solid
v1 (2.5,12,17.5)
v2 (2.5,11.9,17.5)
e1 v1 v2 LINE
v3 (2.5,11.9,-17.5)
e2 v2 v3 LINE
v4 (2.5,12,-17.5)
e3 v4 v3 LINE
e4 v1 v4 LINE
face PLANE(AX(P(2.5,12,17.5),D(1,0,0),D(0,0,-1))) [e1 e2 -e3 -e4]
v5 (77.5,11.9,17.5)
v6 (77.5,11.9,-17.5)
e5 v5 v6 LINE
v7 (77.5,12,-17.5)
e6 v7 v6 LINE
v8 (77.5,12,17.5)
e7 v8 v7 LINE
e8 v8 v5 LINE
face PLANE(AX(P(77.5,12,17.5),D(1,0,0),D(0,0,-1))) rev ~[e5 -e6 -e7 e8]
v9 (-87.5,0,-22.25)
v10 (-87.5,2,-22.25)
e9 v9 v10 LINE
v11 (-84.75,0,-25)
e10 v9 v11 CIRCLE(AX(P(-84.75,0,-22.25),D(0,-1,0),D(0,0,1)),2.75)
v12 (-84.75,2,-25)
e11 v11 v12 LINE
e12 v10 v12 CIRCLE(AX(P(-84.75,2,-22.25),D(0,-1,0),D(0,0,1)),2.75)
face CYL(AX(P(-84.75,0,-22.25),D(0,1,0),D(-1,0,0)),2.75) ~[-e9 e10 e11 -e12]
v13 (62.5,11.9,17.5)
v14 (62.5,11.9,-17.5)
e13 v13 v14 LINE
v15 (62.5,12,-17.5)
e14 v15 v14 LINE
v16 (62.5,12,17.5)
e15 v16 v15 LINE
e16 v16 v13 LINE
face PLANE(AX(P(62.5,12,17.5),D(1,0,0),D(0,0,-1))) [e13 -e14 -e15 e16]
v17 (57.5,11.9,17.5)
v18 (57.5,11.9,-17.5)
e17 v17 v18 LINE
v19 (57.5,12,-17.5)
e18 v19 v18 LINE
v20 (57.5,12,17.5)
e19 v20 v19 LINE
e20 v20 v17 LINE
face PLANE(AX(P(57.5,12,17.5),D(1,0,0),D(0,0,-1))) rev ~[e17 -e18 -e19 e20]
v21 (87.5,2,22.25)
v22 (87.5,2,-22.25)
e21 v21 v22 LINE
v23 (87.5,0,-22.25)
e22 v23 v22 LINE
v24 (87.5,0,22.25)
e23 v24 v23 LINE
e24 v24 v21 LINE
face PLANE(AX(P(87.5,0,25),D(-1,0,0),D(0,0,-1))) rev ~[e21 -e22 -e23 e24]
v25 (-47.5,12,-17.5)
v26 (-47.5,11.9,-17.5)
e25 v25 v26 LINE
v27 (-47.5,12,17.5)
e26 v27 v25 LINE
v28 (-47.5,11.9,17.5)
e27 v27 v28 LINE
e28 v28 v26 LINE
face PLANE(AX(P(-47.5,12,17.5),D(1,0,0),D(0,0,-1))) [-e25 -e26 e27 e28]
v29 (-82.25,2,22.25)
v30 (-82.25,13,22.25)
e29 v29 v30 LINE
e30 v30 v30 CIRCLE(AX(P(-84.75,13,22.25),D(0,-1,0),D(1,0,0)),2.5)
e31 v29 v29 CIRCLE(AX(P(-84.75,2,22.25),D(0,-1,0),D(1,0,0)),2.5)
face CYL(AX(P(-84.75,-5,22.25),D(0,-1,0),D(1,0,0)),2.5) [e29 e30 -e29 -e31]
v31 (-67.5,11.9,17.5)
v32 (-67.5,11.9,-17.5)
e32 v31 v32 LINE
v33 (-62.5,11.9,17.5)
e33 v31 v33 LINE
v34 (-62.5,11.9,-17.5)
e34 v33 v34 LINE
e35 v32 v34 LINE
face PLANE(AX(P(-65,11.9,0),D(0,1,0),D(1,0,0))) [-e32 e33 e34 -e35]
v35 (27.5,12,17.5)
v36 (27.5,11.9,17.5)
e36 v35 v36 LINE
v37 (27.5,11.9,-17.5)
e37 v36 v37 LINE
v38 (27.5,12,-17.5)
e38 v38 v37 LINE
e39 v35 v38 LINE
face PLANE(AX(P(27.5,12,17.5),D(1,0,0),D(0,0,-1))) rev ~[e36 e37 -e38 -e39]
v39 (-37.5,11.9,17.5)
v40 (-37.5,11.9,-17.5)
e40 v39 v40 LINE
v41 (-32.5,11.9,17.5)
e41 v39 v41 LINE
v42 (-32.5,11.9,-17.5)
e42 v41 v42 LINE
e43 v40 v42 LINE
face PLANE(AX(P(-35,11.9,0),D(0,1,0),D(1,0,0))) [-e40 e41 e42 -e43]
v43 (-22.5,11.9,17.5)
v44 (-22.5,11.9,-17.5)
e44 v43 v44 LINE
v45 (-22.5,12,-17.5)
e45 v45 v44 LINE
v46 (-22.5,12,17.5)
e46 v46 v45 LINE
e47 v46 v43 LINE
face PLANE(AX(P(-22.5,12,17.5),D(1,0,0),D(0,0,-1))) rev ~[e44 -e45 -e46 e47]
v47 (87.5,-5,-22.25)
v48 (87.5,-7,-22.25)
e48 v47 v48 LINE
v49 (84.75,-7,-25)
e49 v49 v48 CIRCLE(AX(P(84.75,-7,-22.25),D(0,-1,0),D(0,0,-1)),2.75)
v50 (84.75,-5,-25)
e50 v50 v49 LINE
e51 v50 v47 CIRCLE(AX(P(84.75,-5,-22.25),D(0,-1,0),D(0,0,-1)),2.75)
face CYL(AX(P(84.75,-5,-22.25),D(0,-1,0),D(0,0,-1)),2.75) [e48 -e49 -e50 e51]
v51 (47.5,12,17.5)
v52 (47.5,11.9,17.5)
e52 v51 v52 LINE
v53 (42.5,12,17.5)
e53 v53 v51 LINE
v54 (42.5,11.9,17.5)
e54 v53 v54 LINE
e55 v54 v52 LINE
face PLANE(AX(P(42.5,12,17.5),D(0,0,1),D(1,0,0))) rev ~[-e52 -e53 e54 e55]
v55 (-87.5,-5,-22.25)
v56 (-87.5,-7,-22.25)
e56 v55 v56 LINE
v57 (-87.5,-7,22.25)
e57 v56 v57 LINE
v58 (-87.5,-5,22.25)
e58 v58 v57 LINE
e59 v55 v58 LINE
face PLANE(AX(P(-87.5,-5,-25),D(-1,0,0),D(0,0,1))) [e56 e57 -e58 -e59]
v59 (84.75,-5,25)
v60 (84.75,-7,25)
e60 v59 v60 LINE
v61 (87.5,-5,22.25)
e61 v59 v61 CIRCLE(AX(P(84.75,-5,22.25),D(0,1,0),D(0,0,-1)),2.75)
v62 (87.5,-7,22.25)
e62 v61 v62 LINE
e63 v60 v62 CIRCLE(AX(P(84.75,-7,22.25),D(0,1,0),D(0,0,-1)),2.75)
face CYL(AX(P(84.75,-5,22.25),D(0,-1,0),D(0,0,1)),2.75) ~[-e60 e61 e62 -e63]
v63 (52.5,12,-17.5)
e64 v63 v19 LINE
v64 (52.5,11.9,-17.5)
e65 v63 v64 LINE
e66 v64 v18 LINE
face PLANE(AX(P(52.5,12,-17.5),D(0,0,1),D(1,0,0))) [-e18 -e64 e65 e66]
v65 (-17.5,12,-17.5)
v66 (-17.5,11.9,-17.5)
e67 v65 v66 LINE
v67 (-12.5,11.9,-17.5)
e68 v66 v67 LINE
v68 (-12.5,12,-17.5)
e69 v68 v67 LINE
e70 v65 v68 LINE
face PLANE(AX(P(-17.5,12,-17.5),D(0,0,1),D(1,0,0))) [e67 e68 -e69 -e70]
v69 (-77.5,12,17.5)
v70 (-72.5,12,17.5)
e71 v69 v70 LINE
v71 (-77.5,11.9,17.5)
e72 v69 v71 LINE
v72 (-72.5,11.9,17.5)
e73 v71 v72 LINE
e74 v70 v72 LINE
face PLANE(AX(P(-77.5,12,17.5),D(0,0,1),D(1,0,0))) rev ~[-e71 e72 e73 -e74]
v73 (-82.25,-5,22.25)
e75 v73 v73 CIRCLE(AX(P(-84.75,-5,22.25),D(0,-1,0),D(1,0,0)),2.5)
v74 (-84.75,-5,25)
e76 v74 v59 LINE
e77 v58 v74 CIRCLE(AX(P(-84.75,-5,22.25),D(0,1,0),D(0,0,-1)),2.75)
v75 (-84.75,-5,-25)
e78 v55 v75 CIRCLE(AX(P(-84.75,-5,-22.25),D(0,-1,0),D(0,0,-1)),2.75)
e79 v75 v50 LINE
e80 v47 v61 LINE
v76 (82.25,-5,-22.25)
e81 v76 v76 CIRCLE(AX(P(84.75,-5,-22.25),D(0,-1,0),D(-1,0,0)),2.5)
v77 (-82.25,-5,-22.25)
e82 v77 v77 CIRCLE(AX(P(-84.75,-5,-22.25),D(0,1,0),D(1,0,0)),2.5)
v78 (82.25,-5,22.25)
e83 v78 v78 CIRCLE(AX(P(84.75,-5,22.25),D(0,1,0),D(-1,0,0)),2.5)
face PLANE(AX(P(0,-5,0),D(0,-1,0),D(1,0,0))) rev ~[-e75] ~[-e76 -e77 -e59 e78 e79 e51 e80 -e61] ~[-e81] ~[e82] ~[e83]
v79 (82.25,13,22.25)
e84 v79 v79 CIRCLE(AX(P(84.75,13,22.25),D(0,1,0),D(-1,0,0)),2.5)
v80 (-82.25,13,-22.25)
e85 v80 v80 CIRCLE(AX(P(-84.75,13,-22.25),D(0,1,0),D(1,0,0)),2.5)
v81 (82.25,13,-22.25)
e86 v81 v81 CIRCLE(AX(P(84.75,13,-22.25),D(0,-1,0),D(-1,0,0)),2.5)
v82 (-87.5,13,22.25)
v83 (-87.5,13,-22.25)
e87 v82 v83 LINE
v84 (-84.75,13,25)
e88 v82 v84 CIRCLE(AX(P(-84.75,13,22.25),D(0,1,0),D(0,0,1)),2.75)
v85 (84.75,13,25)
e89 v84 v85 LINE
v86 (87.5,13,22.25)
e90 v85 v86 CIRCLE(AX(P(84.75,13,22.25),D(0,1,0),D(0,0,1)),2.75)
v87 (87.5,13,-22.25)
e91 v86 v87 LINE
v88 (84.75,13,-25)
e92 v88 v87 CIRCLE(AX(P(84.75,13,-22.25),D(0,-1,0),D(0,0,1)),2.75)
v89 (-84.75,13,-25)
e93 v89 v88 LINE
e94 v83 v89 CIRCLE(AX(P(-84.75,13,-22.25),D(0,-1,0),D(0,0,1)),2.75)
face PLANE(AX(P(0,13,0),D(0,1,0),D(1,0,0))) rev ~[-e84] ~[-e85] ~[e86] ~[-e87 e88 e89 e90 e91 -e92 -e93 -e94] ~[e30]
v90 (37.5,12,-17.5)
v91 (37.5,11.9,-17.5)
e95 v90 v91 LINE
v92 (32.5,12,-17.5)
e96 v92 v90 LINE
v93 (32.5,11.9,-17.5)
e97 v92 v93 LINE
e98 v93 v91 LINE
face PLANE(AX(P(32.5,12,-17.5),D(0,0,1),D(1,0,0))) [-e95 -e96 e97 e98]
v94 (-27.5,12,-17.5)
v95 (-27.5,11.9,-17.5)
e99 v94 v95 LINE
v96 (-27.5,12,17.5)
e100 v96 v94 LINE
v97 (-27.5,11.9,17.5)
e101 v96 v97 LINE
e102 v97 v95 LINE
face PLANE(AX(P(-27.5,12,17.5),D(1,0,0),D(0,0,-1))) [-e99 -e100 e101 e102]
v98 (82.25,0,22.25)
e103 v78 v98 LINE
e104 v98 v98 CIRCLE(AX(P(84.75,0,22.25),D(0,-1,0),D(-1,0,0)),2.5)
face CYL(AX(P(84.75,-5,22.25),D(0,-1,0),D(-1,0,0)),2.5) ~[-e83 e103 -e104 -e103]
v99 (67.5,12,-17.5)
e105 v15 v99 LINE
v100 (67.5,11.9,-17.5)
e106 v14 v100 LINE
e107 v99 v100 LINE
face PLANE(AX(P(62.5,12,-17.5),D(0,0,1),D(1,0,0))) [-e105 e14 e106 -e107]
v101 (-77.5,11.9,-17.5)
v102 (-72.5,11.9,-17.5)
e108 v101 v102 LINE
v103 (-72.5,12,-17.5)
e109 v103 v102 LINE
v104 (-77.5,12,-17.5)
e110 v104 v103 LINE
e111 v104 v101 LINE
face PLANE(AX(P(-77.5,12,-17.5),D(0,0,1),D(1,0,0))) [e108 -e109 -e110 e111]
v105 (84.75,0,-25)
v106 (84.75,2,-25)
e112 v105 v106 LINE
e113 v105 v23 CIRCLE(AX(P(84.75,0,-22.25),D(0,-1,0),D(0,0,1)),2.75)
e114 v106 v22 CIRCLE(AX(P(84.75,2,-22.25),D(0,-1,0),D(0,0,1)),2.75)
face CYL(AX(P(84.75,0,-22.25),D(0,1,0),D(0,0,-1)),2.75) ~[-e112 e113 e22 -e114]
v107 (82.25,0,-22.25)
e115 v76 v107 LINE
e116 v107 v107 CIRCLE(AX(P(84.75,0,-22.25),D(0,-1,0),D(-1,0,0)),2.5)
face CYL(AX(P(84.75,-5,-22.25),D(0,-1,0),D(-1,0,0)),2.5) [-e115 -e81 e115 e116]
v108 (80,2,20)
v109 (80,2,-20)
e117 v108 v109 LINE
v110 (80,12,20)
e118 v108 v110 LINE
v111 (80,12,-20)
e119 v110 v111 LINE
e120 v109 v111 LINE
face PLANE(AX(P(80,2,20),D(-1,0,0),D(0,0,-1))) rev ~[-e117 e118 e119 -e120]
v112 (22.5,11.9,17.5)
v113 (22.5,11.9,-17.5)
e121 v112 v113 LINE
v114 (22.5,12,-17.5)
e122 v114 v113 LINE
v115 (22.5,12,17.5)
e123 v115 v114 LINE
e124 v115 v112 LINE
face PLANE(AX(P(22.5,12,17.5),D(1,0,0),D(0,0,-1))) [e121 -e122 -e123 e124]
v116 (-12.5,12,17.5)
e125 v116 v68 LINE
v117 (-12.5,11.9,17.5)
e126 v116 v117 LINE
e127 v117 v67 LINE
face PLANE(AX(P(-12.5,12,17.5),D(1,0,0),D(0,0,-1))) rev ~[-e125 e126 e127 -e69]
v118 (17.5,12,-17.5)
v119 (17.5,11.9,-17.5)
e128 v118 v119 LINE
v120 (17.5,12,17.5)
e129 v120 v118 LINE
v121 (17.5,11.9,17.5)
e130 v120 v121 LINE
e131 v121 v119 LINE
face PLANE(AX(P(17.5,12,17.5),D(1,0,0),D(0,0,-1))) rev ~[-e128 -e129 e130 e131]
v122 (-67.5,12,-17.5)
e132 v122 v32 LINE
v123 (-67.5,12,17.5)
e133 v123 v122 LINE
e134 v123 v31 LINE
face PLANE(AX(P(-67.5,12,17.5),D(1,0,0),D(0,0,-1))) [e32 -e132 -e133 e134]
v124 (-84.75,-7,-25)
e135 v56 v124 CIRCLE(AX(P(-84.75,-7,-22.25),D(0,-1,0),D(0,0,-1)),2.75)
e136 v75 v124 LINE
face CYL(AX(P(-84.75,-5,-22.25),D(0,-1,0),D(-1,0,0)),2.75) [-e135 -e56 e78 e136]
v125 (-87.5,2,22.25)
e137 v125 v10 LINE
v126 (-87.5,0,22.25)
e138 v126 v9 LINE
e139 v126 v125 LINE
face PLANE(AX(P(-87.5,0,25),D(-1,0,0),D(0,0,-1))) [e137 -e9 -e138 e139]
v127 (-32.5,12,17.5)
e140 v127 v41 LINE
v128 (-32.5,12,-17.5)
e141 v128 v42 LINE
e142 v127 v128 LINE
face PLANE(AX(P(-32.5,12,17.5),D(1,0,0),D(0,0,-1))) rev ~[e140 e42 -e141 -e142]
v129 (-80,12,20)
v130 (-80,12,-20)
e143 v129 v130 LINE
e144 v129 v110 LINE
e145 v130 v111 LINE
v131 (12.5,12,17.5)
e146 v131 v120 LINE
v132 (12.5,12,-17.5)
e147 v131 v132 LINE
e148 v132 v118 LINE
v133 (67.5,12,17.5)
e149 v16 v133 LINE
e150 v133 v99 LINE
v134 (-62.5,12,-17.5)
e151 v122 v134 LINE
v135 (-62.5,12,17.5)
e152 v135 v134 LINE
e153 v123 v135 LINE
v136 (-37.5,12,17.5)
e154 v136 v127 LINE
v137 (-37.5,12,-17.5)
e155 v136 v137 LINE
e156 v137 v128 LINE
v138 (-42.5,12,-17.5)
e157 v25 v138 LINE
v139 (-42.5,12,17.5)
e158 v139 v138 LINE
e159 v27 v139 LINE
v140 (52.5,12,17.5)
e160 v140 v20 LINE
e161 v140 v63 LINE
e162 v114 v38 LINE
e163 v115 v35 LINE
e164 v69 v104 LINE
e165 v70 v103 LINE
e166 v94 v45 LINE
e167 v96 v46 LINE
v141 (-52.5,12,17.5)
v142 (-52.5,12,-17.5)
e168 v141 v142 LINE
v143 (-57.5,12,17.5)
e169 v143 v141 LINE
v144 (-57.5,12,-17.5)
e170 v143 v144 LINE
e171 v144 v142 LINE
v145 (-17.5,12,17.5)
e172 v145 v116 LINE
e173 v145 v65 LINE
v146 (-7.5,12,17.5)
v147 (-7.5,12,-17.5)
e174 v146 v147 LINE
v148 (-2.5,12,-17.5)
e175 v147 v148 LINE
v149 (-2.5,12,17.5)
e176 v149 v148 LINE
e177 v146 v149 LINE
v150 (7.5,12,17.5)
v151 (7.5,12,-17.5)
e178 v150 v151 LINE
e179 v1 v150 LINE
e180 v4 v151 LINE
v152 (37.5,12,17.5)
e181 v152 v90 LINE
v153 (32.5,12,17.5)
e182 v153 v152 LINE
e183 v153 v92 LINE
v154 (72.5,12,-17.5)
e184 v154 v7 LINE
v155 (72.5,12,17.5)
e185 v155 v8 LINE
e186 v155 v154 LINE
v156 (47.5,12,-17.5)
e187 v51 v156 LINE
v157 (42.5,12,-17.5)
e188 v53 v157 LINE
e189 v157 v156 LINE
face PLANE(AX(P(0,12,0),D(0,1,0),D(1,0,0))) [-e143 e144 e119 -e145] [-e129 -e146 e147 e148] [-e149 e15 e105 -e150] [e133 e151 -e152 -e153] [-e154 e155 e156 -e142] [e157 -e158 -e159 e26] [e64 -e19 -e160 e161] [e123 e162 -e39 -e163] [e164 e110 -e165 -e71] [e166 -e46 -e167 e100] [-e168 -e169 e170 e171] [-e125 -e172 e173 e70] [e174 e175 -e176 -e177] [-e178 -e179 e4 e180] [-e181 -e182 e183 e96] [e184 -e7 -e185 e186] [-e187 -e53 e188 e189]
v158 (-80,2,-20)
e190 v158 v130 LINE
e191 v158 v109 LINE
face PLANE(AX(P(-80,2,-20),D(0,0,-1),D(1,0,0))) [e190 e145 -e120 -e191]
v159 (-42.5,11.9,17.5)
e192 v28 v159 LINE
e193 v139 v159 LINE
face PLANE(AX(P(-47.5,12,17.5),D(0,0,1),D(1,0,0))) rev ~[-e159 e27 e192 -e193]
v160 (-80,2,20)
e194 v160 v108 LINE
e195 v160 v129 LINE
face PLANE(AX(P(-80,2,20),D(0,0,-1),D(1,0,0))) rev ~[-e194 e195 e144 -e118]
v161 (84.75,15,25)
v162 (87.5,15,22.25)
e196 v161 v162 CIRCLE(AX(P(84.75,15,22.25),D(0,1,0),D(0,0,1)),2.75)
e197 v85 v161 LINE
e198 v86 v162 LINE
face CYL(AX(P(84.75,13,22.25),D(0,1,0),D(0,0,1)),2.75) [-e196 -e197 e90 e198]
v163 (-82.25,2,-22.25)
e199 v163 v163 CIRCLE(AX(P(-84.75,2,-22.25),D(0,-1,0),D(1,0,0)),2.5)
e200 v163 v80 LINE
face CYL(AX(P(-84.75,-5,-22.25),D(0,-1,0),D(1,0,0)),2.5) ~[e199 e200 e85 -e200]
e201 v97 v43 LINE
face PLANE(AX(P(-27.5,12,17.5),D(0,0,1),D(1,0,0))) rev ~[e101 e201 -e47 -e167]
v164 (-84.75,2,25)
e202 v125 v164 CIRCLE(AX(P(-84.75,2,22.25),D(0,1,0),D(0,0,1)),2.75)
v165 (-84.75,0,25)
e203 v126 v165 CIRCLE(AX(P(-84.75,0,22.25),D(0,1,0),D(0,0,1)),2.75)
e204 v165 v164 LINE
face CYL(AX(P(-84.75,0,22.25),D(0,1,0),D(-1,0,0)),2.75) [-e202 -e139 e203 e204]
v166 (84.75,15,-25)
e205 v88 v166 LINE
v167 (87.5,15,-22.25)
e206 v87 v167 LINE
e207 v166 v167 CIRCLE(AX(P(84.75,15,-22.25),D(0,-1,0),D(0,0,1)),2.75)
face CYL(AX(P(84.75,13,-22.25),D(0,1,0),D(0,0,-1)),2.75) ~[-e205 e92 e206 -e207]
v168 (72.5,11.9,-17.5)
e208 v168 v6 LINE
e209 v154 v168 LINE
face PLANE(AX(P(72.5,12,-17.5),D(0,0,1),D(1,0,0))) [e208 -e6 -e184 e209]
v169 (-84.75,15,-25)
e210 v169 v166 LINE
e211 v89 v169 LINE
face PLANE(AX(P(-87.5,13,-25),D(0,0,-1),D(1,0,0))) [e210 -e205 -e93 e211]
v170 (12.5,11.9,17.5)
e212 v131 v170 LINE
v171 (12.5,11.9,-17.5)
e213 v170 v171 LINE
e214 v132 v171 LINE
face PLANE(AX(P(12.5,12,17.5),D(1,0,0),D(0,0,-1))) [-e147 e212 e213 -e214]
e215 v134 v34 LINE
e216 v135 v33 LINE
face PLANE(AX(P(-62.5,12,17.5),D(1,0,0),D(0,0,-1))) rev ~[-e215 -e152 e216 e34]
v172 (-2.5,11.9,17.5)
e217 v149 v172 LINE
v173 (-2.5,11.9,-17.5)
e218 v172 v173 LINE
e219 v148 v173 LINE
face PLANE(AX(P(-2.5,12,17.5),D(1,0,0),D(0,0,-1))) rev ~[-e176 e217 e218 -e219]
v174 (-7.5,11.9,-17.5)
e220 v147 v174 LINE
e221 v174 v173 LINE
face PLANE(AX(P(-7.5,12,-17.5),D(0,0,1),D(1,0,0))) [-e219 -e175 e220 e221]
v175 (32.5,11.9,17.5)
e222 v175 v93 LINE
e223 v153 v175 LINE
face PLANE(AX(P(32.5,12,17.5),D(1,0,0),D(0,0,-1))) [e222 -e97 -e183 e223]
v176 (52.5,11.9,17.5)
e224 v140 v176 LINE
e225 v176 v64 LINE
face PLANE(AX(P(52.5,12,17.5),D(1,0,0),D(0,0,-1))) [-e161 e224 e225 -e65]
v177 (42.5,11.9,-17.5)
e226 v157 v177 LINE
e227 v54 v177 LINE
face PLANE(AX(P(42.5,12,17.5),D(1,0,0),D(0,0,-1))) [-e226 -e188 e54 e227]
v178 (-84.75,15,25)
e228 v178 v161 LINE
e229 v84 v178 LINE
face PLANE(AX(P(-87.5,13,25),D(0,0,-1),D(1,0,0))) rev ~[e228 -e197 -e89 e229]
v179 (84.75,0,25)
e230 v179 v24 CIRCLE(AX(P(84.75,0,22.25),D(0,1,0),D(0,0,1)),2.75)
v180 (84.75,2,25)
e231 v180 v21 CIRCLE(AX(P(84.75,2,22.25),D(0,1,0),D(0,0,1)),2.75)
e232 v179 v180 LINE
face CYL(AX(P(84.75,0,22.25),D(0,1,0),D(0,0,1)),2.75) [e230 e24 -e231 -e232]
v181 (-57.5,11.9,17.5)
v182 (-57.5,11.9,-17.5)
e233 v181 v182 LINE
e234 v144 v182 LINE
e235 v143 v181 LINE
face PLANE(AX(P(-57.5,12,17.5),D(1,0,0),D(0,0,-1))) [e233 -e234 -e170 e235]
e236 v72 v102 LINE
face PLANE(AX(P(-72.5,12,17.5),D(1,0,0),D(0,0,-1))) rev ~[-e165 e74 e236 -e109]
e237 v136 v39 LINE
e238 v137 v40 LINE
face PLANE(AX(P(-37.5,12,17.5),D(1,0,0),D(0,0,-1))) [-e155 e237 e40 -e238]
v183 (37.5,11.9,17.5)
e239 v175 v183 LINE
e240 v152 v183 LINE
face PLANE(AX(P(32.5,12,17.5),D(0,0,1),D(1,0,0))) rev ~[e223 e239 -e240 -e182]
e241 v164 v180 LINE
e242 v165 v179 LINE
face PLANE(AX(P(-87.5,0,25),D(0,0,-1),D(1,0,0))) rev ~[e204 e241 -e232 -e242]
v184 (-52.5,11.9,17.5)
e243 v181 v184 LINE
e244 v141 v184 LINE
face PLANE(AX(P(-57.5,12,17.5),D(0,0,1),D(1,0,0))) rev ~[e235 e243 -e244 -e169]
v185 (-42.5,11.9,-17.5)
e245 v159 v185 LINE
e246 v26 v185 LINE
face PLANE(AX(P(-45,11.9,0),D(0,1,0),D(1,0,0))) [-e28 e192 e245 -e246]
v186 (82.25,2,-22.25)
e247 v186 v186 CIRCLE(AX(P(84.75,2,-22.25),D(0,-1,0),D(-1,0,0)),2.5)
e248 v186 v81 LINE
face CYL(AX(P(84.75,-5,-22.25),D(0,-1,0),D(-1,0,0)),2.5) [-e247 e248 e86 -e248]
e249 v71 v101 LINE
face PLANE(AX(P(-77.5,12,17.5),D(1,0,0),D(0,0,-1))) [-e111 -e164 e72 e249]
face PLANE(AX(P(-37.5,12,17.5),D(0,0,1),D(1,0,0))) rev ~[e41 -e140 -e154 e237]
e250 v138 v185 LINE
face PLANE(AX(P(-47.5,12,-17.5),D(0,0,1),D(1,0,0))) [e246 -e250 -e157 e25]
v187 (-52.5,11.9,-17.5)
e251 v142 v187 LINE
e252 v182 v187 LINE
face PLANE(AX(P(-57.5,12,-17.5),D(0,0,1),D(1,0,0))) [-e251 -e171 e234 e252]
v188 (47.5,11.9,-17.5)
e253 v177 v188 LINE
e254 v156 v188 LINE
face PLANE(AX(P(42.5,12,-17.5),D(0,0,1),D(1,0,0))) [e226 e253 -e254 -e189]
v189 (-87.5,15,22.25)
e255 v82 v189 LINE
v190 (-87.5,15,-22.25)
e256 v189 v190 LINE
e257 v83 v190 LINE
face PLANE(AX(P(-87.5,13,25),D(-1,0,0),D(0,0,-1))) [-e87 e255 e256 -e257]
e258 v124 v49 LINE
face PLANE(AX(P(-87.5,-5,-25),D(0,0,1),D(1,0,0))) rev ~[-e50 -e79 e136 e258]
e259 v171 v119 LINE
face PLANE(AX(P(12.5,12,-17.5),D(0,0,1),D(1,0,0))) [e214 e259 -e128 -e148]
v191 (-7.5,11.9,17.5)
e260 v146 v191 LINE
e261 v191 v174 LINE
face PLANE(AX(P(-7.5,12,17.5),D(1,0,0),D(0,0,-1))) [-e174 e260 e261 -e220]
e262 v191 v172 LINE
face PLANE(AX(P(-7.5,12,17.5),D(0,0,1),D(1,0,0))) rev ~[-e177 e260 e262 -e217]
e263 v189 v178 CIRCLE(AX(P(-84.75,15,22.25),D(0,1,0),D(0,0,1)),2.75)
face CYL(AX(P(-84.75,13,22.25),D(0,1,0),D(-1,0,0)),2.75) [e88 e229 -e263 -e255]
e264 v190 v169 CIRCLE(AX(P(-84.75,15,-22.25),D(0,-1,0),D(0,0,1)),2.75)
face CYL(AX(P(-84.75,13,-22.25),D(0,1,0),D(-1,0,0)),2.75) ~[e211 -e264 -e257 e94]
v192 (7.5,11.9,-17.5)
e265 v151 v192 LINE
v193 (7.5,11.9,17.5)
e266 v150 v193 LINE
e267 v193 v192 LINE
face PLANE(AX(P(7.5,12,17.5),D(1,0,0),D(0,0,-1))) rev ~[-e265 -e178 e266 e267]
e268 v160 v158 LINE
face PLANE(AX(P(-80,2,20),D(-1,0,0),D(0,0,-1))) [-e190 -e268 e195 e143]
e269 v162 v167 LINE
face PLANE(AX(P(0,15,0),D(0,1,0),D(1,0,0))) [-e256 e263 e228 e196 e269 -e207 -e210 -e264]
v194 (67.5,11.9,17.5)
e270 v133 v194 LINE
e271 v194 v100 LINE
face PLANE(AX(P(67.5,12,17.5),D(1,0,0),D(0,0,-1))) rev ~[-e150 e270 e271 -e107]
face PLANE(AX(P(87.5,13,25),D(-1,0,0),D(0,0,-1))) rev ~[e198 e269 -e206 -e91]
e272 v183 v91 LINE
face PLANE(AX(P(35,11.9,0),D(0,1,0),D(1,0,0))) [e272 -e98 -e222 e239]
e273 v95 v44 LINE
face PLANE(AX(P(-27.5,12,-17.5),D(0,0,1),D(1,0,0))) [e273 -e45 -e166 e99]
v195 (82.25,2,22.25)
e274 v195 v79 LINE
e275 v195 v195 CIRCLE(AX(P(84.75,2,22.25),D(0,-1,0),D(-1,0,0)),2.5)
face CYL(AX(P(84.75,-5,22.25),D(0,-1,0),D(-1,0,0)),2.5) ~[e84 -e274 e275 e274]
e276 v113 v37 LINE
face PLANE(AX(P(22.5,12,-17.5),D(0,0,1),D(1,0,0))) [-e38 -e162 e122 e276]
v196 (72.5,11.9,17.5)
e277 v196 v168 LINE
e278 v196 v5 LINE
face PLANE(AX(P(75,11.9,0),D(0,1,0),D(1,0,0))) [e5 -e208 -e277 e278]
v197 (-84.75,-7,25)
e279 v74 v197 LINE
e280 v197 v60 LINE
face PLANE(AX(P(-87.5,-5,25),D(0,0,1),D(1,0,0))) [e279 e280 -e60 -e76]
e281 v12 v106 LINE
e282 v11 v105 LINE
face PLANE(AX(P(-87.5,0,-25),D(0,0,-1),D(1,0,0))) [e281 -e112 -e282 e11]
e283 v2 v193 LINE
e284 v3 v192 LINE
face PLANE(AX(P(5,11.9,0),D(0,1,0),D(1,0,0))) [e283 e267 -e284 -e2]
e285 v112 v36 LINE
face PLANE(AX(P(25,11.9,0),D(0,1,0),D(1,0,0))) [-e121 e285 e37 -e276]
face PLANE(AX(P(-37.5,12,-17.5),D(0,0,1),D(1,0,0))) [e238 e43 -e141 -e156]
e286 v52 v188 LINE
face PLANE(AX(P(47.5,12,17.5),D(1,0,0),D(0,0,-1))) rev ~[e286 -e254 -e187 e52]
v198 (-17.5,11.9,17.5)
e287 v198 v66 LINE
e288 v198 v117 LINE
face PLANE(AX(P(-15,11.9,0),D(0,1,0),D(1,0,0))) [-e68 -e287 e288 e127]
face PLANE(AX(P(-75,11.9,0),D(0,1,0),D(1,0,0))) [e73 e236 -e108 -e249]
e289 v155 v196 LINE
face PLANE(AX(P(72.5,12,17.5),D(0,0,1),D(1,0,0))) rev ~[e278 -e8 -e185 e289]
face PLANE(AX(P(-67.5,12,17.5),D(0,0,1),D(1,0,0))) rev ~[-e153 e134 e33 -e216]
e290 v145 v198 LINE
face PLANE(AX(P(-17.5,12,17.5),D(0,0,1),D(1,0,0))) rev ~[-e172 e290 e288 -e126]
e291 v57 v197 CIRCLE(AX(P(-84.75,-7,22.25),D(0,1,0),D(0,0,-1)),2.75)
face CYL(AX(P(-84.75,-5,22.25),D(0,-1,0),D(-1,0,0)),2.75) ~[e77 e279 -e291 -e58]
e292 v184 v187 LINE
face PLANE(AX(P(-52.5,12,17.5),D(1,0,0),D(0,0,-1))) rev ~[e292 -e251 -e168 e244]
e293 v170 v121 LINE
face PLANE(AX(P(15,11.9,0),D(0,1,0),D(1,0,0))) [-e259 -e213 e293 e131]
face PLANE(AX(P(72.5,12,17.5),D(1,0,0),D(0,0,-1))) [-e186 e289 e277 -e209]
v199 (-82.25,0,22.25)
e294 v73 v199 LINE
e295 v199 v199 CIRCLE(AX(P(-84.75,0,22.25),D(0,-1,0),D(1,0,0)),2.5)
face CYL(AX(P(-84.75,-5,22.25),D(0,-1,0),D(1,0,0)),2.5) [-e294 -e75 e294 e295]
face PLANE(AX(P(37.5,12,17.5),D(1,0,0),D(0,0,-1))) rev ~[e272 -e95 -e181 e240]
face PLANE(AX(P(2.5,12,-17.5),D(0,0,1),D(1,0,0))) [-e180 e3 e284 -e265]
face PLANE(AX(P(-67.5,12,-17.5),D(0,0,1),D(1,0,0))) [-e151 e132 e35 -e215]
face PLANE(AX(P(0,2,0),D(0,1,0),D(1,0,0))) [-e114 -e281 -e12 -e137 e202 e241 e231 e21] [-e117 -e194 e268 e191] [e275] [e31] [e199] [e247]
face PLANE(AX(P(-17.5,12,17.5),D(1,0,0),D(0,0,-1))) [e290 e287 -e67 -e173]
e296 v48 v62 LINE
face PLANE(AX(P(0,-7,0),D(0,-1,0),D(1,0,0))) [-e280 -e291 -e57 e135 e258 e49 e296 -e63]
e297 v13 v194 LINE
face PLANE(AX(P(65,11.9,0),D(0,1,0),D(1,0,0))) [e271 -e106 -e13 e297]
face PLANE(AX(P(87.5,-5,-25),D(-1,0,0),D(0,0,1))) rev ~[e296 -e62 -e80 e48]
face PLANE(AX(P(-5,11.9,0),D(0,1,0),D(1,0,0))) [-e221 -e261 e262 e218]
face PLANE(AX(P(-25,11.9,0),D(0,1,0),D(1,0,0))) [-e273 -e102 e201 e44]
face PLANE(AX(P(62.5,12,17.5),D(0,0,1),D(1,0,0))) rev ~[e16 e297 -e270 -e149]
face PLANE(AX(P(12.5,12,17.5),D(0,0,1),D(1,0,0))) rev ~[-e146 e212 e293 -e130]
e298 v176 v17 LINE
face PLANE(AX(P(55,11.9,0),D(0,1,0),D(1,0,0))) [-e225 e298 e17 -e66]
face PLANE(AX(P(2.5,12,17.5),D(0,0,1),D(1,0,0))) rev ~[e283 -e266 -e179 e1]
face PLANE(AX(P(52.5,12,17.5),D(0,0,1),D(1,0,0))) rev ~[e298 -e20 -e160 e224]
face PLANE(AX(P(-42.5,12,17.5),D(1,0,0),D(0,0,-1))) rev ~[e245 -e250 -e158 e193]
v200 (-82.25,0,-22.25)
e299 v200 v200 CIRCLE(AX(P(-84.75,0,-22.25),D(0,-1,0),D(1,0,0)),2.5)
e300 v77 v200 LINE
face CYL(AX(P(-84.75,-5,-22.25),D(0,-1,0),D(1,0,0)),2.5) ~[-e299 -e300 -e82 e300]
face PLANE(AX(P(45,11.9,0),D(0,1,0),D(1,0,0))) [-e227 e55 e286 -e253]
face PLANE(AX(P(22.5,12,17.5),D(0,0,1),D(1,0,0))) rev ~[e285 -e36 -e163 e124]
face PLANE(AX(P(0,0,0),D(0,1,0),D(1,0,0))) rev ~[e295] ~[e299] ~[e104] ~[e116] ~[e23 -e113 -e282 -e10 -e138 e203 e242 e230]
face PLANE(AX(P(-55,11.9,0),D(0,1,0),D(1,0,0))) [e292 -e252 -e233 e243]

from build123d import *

# Parameters (mm, degrees)
SKETCH1_W                                  = 175
SKETCH1_H                                  = 50
BOSS_EXTRUDE1_DEPTH                        = 2
BOSS_EXTRUDE2_START                        = 11
SKETCH2_W                                  = 175
SKETCH2_H                                  = 50
BOSS_EXTRUDE2_DEPTH                        = 2
BOSS_EXTRUDE3_START                        = 5
SKETCH3_W                                  = 175
SKETCH3_H                                  = 50
BOSS_EXTRUDE3_DEPTH                        = 2
SKETCH5_W                                  = 160
SKETCH5_H                                  = 40
BOSS_EXTRUDE4_DEPTH                        = 10
SKETCH7_W                                  = 5
SKETCH7_H                                  = 35
CUT_EXTRUDE1_DEPTH                         = 0.1
LPATTERN1_COUNT                            = 16
LPATTERN1_PITCH                            = 10
SKETCH8_R                                  = 2.5
BOSS_EXTRUDE5_DEPTH                        = 18
MIRROR1_AT_THE_SECOND_PLANE_COPY_1_SKETC_R = 2.5
MIRROR1_AT_THE_SECOND_PLANE_COPY_1_DEPTH   = 18
FILLET2_R                                  = 2.75


with BuildPart() as part:
    # Sketch1 → Boss-Extrude1 (new body)
    with BuildSketch(Plane(origin=(0, 0, 0), x_dir=(1, 0, 0), z_dir=(0, 1, 0))):
        Rectangle(SKETCH1_W, SKETCH1_H)
    extrude(amount=BOSS_EXTRUDE1_DEPTH)

    # Sketch5 → Boss-Extrude4 (add)
    with BuildSketch(Plane(origin=(0, 2, 0), x_dir=(1, 0, 0), z_dir=(0, 1, 0))):
        Rectangle(SKETCH5_W, SKETCH5_H)
    extrude(amount=BOSS_EXTRUDE4_DEPTH)

    # Sketch7 → Cut-Extrude1 (cut)
    with BuildSketch(Plane(origin=(0, 12, 0), x_dir=(1, 0, 0), z_dir=(0, 1, 0))):
        with Locations((-75, 0)):
            Rectangle(SKETCH7_W, SKETCH7_H)
    cut_extrude1 = extrude(amount=-CUT_EXTRUDE1_DEPTH, mode=Mode.SUBTRACT)

    # LPattern1: Cut-Extrude1 ×16
    with Locations(*[(i * LPATTERN1_PITCH, 0, 0) for i in range(1, LPATTERN1_COUNT)]):
        add(cut_extrude1, mode=Mode.SUBTRACT)



with BuildPart() as body_2:
    # Sketch2 → Boss-Extrude2 (new body)
    with BuildSketch(Plane(origin=(0, 2, 0), x_dir=(1, 0, 0), z_dir=(0, 1, 0)).offset(BOSS_EXTRUDE2_START)):
        Rectangle(SKETCH2_W, SKETCH2_H)
    extrude(amount=BOSS_EXTRUDE2_DEPTH)


with BuildPart() as body_3:
    # Sketch3 → Boss-Extrude3 (new body)
    with BuildSketch(Plane.XZ.offset(BOSS_EXTRUDE3_START)):
        Rectangle(SKETCH3_W, SKETCH3_H)
    extrude(amount=BOSS_EXTRUDE3_DEPTH)


with BuildPart() as part_1:
    add(part.part)

    add(body_2.part)  # Boss-Extrude5 merges body 2

    add(body_3.part)  # Boss-Extrude5 merges body 3
    # Sketch8 → Boss-Extrude5 (add)
    with BuildSketch(Plane(origin=(0, -5, 0), x_dir=(1, 0, 0), z_dir=(0, 1, 0))):
        with Locations((-84.75, 22.25)):
            Circle(SKETCH8_R)
    boss_extrude5 = extrude(amount=BOSS_EXTRUDE5_DEPTH)

    # Mirror1: Boss-Extrude5 across plane
    add(boss_extrude5.mirror(Plane(origin=(0, 0, 0), x_dir=(0, 0, 1), z_dir=(1, 0, 0))))

    # Mirror1 at the second plane: Boss-Extrude5 across plane
    add(boss_extrude5.mirror(Plane.XY))

    # Mirror1 at the second plane copy 1 sketc → Mirror1 at the second plane copy 1 (add)
    with BuildSketch(Plane(origin=(0, -5, 0), x_dir=(-1, 0, 0), z_dir=(0, 1, 0))):
        with Locations((-84.75, 22.25)):
            Circle(MIRROR1_AT_THE_SECOND_PLANE_COPY_1_SKETC_R)
    extrude(amount=MIRROR1_AT_THE_SECOND_PLANE_COPY_1_DEPTH)

    # Fillet2
    fillet2_edges = [part_1.edges().sort_by_distance(p)[0] for p in [
        (87.5, -6, 25),
        (-87.5, -6, 25),
        (-87.5, -6, -25),
        (87.5, -6, -25),
        (-87.5, 1, -25),
        (-87.5, 1, 25),
        (87.5, 1, 25),
        (87.5, 1, -25),
        (87.5, 14, -25),
        (87.5, 14, 25),
        (-87.5, 14, 25),
        (-87.5, 14, -25),
    ]]
    fillet(fillet2_edges, radius=FILLET2_R)


solid = part_1.part
